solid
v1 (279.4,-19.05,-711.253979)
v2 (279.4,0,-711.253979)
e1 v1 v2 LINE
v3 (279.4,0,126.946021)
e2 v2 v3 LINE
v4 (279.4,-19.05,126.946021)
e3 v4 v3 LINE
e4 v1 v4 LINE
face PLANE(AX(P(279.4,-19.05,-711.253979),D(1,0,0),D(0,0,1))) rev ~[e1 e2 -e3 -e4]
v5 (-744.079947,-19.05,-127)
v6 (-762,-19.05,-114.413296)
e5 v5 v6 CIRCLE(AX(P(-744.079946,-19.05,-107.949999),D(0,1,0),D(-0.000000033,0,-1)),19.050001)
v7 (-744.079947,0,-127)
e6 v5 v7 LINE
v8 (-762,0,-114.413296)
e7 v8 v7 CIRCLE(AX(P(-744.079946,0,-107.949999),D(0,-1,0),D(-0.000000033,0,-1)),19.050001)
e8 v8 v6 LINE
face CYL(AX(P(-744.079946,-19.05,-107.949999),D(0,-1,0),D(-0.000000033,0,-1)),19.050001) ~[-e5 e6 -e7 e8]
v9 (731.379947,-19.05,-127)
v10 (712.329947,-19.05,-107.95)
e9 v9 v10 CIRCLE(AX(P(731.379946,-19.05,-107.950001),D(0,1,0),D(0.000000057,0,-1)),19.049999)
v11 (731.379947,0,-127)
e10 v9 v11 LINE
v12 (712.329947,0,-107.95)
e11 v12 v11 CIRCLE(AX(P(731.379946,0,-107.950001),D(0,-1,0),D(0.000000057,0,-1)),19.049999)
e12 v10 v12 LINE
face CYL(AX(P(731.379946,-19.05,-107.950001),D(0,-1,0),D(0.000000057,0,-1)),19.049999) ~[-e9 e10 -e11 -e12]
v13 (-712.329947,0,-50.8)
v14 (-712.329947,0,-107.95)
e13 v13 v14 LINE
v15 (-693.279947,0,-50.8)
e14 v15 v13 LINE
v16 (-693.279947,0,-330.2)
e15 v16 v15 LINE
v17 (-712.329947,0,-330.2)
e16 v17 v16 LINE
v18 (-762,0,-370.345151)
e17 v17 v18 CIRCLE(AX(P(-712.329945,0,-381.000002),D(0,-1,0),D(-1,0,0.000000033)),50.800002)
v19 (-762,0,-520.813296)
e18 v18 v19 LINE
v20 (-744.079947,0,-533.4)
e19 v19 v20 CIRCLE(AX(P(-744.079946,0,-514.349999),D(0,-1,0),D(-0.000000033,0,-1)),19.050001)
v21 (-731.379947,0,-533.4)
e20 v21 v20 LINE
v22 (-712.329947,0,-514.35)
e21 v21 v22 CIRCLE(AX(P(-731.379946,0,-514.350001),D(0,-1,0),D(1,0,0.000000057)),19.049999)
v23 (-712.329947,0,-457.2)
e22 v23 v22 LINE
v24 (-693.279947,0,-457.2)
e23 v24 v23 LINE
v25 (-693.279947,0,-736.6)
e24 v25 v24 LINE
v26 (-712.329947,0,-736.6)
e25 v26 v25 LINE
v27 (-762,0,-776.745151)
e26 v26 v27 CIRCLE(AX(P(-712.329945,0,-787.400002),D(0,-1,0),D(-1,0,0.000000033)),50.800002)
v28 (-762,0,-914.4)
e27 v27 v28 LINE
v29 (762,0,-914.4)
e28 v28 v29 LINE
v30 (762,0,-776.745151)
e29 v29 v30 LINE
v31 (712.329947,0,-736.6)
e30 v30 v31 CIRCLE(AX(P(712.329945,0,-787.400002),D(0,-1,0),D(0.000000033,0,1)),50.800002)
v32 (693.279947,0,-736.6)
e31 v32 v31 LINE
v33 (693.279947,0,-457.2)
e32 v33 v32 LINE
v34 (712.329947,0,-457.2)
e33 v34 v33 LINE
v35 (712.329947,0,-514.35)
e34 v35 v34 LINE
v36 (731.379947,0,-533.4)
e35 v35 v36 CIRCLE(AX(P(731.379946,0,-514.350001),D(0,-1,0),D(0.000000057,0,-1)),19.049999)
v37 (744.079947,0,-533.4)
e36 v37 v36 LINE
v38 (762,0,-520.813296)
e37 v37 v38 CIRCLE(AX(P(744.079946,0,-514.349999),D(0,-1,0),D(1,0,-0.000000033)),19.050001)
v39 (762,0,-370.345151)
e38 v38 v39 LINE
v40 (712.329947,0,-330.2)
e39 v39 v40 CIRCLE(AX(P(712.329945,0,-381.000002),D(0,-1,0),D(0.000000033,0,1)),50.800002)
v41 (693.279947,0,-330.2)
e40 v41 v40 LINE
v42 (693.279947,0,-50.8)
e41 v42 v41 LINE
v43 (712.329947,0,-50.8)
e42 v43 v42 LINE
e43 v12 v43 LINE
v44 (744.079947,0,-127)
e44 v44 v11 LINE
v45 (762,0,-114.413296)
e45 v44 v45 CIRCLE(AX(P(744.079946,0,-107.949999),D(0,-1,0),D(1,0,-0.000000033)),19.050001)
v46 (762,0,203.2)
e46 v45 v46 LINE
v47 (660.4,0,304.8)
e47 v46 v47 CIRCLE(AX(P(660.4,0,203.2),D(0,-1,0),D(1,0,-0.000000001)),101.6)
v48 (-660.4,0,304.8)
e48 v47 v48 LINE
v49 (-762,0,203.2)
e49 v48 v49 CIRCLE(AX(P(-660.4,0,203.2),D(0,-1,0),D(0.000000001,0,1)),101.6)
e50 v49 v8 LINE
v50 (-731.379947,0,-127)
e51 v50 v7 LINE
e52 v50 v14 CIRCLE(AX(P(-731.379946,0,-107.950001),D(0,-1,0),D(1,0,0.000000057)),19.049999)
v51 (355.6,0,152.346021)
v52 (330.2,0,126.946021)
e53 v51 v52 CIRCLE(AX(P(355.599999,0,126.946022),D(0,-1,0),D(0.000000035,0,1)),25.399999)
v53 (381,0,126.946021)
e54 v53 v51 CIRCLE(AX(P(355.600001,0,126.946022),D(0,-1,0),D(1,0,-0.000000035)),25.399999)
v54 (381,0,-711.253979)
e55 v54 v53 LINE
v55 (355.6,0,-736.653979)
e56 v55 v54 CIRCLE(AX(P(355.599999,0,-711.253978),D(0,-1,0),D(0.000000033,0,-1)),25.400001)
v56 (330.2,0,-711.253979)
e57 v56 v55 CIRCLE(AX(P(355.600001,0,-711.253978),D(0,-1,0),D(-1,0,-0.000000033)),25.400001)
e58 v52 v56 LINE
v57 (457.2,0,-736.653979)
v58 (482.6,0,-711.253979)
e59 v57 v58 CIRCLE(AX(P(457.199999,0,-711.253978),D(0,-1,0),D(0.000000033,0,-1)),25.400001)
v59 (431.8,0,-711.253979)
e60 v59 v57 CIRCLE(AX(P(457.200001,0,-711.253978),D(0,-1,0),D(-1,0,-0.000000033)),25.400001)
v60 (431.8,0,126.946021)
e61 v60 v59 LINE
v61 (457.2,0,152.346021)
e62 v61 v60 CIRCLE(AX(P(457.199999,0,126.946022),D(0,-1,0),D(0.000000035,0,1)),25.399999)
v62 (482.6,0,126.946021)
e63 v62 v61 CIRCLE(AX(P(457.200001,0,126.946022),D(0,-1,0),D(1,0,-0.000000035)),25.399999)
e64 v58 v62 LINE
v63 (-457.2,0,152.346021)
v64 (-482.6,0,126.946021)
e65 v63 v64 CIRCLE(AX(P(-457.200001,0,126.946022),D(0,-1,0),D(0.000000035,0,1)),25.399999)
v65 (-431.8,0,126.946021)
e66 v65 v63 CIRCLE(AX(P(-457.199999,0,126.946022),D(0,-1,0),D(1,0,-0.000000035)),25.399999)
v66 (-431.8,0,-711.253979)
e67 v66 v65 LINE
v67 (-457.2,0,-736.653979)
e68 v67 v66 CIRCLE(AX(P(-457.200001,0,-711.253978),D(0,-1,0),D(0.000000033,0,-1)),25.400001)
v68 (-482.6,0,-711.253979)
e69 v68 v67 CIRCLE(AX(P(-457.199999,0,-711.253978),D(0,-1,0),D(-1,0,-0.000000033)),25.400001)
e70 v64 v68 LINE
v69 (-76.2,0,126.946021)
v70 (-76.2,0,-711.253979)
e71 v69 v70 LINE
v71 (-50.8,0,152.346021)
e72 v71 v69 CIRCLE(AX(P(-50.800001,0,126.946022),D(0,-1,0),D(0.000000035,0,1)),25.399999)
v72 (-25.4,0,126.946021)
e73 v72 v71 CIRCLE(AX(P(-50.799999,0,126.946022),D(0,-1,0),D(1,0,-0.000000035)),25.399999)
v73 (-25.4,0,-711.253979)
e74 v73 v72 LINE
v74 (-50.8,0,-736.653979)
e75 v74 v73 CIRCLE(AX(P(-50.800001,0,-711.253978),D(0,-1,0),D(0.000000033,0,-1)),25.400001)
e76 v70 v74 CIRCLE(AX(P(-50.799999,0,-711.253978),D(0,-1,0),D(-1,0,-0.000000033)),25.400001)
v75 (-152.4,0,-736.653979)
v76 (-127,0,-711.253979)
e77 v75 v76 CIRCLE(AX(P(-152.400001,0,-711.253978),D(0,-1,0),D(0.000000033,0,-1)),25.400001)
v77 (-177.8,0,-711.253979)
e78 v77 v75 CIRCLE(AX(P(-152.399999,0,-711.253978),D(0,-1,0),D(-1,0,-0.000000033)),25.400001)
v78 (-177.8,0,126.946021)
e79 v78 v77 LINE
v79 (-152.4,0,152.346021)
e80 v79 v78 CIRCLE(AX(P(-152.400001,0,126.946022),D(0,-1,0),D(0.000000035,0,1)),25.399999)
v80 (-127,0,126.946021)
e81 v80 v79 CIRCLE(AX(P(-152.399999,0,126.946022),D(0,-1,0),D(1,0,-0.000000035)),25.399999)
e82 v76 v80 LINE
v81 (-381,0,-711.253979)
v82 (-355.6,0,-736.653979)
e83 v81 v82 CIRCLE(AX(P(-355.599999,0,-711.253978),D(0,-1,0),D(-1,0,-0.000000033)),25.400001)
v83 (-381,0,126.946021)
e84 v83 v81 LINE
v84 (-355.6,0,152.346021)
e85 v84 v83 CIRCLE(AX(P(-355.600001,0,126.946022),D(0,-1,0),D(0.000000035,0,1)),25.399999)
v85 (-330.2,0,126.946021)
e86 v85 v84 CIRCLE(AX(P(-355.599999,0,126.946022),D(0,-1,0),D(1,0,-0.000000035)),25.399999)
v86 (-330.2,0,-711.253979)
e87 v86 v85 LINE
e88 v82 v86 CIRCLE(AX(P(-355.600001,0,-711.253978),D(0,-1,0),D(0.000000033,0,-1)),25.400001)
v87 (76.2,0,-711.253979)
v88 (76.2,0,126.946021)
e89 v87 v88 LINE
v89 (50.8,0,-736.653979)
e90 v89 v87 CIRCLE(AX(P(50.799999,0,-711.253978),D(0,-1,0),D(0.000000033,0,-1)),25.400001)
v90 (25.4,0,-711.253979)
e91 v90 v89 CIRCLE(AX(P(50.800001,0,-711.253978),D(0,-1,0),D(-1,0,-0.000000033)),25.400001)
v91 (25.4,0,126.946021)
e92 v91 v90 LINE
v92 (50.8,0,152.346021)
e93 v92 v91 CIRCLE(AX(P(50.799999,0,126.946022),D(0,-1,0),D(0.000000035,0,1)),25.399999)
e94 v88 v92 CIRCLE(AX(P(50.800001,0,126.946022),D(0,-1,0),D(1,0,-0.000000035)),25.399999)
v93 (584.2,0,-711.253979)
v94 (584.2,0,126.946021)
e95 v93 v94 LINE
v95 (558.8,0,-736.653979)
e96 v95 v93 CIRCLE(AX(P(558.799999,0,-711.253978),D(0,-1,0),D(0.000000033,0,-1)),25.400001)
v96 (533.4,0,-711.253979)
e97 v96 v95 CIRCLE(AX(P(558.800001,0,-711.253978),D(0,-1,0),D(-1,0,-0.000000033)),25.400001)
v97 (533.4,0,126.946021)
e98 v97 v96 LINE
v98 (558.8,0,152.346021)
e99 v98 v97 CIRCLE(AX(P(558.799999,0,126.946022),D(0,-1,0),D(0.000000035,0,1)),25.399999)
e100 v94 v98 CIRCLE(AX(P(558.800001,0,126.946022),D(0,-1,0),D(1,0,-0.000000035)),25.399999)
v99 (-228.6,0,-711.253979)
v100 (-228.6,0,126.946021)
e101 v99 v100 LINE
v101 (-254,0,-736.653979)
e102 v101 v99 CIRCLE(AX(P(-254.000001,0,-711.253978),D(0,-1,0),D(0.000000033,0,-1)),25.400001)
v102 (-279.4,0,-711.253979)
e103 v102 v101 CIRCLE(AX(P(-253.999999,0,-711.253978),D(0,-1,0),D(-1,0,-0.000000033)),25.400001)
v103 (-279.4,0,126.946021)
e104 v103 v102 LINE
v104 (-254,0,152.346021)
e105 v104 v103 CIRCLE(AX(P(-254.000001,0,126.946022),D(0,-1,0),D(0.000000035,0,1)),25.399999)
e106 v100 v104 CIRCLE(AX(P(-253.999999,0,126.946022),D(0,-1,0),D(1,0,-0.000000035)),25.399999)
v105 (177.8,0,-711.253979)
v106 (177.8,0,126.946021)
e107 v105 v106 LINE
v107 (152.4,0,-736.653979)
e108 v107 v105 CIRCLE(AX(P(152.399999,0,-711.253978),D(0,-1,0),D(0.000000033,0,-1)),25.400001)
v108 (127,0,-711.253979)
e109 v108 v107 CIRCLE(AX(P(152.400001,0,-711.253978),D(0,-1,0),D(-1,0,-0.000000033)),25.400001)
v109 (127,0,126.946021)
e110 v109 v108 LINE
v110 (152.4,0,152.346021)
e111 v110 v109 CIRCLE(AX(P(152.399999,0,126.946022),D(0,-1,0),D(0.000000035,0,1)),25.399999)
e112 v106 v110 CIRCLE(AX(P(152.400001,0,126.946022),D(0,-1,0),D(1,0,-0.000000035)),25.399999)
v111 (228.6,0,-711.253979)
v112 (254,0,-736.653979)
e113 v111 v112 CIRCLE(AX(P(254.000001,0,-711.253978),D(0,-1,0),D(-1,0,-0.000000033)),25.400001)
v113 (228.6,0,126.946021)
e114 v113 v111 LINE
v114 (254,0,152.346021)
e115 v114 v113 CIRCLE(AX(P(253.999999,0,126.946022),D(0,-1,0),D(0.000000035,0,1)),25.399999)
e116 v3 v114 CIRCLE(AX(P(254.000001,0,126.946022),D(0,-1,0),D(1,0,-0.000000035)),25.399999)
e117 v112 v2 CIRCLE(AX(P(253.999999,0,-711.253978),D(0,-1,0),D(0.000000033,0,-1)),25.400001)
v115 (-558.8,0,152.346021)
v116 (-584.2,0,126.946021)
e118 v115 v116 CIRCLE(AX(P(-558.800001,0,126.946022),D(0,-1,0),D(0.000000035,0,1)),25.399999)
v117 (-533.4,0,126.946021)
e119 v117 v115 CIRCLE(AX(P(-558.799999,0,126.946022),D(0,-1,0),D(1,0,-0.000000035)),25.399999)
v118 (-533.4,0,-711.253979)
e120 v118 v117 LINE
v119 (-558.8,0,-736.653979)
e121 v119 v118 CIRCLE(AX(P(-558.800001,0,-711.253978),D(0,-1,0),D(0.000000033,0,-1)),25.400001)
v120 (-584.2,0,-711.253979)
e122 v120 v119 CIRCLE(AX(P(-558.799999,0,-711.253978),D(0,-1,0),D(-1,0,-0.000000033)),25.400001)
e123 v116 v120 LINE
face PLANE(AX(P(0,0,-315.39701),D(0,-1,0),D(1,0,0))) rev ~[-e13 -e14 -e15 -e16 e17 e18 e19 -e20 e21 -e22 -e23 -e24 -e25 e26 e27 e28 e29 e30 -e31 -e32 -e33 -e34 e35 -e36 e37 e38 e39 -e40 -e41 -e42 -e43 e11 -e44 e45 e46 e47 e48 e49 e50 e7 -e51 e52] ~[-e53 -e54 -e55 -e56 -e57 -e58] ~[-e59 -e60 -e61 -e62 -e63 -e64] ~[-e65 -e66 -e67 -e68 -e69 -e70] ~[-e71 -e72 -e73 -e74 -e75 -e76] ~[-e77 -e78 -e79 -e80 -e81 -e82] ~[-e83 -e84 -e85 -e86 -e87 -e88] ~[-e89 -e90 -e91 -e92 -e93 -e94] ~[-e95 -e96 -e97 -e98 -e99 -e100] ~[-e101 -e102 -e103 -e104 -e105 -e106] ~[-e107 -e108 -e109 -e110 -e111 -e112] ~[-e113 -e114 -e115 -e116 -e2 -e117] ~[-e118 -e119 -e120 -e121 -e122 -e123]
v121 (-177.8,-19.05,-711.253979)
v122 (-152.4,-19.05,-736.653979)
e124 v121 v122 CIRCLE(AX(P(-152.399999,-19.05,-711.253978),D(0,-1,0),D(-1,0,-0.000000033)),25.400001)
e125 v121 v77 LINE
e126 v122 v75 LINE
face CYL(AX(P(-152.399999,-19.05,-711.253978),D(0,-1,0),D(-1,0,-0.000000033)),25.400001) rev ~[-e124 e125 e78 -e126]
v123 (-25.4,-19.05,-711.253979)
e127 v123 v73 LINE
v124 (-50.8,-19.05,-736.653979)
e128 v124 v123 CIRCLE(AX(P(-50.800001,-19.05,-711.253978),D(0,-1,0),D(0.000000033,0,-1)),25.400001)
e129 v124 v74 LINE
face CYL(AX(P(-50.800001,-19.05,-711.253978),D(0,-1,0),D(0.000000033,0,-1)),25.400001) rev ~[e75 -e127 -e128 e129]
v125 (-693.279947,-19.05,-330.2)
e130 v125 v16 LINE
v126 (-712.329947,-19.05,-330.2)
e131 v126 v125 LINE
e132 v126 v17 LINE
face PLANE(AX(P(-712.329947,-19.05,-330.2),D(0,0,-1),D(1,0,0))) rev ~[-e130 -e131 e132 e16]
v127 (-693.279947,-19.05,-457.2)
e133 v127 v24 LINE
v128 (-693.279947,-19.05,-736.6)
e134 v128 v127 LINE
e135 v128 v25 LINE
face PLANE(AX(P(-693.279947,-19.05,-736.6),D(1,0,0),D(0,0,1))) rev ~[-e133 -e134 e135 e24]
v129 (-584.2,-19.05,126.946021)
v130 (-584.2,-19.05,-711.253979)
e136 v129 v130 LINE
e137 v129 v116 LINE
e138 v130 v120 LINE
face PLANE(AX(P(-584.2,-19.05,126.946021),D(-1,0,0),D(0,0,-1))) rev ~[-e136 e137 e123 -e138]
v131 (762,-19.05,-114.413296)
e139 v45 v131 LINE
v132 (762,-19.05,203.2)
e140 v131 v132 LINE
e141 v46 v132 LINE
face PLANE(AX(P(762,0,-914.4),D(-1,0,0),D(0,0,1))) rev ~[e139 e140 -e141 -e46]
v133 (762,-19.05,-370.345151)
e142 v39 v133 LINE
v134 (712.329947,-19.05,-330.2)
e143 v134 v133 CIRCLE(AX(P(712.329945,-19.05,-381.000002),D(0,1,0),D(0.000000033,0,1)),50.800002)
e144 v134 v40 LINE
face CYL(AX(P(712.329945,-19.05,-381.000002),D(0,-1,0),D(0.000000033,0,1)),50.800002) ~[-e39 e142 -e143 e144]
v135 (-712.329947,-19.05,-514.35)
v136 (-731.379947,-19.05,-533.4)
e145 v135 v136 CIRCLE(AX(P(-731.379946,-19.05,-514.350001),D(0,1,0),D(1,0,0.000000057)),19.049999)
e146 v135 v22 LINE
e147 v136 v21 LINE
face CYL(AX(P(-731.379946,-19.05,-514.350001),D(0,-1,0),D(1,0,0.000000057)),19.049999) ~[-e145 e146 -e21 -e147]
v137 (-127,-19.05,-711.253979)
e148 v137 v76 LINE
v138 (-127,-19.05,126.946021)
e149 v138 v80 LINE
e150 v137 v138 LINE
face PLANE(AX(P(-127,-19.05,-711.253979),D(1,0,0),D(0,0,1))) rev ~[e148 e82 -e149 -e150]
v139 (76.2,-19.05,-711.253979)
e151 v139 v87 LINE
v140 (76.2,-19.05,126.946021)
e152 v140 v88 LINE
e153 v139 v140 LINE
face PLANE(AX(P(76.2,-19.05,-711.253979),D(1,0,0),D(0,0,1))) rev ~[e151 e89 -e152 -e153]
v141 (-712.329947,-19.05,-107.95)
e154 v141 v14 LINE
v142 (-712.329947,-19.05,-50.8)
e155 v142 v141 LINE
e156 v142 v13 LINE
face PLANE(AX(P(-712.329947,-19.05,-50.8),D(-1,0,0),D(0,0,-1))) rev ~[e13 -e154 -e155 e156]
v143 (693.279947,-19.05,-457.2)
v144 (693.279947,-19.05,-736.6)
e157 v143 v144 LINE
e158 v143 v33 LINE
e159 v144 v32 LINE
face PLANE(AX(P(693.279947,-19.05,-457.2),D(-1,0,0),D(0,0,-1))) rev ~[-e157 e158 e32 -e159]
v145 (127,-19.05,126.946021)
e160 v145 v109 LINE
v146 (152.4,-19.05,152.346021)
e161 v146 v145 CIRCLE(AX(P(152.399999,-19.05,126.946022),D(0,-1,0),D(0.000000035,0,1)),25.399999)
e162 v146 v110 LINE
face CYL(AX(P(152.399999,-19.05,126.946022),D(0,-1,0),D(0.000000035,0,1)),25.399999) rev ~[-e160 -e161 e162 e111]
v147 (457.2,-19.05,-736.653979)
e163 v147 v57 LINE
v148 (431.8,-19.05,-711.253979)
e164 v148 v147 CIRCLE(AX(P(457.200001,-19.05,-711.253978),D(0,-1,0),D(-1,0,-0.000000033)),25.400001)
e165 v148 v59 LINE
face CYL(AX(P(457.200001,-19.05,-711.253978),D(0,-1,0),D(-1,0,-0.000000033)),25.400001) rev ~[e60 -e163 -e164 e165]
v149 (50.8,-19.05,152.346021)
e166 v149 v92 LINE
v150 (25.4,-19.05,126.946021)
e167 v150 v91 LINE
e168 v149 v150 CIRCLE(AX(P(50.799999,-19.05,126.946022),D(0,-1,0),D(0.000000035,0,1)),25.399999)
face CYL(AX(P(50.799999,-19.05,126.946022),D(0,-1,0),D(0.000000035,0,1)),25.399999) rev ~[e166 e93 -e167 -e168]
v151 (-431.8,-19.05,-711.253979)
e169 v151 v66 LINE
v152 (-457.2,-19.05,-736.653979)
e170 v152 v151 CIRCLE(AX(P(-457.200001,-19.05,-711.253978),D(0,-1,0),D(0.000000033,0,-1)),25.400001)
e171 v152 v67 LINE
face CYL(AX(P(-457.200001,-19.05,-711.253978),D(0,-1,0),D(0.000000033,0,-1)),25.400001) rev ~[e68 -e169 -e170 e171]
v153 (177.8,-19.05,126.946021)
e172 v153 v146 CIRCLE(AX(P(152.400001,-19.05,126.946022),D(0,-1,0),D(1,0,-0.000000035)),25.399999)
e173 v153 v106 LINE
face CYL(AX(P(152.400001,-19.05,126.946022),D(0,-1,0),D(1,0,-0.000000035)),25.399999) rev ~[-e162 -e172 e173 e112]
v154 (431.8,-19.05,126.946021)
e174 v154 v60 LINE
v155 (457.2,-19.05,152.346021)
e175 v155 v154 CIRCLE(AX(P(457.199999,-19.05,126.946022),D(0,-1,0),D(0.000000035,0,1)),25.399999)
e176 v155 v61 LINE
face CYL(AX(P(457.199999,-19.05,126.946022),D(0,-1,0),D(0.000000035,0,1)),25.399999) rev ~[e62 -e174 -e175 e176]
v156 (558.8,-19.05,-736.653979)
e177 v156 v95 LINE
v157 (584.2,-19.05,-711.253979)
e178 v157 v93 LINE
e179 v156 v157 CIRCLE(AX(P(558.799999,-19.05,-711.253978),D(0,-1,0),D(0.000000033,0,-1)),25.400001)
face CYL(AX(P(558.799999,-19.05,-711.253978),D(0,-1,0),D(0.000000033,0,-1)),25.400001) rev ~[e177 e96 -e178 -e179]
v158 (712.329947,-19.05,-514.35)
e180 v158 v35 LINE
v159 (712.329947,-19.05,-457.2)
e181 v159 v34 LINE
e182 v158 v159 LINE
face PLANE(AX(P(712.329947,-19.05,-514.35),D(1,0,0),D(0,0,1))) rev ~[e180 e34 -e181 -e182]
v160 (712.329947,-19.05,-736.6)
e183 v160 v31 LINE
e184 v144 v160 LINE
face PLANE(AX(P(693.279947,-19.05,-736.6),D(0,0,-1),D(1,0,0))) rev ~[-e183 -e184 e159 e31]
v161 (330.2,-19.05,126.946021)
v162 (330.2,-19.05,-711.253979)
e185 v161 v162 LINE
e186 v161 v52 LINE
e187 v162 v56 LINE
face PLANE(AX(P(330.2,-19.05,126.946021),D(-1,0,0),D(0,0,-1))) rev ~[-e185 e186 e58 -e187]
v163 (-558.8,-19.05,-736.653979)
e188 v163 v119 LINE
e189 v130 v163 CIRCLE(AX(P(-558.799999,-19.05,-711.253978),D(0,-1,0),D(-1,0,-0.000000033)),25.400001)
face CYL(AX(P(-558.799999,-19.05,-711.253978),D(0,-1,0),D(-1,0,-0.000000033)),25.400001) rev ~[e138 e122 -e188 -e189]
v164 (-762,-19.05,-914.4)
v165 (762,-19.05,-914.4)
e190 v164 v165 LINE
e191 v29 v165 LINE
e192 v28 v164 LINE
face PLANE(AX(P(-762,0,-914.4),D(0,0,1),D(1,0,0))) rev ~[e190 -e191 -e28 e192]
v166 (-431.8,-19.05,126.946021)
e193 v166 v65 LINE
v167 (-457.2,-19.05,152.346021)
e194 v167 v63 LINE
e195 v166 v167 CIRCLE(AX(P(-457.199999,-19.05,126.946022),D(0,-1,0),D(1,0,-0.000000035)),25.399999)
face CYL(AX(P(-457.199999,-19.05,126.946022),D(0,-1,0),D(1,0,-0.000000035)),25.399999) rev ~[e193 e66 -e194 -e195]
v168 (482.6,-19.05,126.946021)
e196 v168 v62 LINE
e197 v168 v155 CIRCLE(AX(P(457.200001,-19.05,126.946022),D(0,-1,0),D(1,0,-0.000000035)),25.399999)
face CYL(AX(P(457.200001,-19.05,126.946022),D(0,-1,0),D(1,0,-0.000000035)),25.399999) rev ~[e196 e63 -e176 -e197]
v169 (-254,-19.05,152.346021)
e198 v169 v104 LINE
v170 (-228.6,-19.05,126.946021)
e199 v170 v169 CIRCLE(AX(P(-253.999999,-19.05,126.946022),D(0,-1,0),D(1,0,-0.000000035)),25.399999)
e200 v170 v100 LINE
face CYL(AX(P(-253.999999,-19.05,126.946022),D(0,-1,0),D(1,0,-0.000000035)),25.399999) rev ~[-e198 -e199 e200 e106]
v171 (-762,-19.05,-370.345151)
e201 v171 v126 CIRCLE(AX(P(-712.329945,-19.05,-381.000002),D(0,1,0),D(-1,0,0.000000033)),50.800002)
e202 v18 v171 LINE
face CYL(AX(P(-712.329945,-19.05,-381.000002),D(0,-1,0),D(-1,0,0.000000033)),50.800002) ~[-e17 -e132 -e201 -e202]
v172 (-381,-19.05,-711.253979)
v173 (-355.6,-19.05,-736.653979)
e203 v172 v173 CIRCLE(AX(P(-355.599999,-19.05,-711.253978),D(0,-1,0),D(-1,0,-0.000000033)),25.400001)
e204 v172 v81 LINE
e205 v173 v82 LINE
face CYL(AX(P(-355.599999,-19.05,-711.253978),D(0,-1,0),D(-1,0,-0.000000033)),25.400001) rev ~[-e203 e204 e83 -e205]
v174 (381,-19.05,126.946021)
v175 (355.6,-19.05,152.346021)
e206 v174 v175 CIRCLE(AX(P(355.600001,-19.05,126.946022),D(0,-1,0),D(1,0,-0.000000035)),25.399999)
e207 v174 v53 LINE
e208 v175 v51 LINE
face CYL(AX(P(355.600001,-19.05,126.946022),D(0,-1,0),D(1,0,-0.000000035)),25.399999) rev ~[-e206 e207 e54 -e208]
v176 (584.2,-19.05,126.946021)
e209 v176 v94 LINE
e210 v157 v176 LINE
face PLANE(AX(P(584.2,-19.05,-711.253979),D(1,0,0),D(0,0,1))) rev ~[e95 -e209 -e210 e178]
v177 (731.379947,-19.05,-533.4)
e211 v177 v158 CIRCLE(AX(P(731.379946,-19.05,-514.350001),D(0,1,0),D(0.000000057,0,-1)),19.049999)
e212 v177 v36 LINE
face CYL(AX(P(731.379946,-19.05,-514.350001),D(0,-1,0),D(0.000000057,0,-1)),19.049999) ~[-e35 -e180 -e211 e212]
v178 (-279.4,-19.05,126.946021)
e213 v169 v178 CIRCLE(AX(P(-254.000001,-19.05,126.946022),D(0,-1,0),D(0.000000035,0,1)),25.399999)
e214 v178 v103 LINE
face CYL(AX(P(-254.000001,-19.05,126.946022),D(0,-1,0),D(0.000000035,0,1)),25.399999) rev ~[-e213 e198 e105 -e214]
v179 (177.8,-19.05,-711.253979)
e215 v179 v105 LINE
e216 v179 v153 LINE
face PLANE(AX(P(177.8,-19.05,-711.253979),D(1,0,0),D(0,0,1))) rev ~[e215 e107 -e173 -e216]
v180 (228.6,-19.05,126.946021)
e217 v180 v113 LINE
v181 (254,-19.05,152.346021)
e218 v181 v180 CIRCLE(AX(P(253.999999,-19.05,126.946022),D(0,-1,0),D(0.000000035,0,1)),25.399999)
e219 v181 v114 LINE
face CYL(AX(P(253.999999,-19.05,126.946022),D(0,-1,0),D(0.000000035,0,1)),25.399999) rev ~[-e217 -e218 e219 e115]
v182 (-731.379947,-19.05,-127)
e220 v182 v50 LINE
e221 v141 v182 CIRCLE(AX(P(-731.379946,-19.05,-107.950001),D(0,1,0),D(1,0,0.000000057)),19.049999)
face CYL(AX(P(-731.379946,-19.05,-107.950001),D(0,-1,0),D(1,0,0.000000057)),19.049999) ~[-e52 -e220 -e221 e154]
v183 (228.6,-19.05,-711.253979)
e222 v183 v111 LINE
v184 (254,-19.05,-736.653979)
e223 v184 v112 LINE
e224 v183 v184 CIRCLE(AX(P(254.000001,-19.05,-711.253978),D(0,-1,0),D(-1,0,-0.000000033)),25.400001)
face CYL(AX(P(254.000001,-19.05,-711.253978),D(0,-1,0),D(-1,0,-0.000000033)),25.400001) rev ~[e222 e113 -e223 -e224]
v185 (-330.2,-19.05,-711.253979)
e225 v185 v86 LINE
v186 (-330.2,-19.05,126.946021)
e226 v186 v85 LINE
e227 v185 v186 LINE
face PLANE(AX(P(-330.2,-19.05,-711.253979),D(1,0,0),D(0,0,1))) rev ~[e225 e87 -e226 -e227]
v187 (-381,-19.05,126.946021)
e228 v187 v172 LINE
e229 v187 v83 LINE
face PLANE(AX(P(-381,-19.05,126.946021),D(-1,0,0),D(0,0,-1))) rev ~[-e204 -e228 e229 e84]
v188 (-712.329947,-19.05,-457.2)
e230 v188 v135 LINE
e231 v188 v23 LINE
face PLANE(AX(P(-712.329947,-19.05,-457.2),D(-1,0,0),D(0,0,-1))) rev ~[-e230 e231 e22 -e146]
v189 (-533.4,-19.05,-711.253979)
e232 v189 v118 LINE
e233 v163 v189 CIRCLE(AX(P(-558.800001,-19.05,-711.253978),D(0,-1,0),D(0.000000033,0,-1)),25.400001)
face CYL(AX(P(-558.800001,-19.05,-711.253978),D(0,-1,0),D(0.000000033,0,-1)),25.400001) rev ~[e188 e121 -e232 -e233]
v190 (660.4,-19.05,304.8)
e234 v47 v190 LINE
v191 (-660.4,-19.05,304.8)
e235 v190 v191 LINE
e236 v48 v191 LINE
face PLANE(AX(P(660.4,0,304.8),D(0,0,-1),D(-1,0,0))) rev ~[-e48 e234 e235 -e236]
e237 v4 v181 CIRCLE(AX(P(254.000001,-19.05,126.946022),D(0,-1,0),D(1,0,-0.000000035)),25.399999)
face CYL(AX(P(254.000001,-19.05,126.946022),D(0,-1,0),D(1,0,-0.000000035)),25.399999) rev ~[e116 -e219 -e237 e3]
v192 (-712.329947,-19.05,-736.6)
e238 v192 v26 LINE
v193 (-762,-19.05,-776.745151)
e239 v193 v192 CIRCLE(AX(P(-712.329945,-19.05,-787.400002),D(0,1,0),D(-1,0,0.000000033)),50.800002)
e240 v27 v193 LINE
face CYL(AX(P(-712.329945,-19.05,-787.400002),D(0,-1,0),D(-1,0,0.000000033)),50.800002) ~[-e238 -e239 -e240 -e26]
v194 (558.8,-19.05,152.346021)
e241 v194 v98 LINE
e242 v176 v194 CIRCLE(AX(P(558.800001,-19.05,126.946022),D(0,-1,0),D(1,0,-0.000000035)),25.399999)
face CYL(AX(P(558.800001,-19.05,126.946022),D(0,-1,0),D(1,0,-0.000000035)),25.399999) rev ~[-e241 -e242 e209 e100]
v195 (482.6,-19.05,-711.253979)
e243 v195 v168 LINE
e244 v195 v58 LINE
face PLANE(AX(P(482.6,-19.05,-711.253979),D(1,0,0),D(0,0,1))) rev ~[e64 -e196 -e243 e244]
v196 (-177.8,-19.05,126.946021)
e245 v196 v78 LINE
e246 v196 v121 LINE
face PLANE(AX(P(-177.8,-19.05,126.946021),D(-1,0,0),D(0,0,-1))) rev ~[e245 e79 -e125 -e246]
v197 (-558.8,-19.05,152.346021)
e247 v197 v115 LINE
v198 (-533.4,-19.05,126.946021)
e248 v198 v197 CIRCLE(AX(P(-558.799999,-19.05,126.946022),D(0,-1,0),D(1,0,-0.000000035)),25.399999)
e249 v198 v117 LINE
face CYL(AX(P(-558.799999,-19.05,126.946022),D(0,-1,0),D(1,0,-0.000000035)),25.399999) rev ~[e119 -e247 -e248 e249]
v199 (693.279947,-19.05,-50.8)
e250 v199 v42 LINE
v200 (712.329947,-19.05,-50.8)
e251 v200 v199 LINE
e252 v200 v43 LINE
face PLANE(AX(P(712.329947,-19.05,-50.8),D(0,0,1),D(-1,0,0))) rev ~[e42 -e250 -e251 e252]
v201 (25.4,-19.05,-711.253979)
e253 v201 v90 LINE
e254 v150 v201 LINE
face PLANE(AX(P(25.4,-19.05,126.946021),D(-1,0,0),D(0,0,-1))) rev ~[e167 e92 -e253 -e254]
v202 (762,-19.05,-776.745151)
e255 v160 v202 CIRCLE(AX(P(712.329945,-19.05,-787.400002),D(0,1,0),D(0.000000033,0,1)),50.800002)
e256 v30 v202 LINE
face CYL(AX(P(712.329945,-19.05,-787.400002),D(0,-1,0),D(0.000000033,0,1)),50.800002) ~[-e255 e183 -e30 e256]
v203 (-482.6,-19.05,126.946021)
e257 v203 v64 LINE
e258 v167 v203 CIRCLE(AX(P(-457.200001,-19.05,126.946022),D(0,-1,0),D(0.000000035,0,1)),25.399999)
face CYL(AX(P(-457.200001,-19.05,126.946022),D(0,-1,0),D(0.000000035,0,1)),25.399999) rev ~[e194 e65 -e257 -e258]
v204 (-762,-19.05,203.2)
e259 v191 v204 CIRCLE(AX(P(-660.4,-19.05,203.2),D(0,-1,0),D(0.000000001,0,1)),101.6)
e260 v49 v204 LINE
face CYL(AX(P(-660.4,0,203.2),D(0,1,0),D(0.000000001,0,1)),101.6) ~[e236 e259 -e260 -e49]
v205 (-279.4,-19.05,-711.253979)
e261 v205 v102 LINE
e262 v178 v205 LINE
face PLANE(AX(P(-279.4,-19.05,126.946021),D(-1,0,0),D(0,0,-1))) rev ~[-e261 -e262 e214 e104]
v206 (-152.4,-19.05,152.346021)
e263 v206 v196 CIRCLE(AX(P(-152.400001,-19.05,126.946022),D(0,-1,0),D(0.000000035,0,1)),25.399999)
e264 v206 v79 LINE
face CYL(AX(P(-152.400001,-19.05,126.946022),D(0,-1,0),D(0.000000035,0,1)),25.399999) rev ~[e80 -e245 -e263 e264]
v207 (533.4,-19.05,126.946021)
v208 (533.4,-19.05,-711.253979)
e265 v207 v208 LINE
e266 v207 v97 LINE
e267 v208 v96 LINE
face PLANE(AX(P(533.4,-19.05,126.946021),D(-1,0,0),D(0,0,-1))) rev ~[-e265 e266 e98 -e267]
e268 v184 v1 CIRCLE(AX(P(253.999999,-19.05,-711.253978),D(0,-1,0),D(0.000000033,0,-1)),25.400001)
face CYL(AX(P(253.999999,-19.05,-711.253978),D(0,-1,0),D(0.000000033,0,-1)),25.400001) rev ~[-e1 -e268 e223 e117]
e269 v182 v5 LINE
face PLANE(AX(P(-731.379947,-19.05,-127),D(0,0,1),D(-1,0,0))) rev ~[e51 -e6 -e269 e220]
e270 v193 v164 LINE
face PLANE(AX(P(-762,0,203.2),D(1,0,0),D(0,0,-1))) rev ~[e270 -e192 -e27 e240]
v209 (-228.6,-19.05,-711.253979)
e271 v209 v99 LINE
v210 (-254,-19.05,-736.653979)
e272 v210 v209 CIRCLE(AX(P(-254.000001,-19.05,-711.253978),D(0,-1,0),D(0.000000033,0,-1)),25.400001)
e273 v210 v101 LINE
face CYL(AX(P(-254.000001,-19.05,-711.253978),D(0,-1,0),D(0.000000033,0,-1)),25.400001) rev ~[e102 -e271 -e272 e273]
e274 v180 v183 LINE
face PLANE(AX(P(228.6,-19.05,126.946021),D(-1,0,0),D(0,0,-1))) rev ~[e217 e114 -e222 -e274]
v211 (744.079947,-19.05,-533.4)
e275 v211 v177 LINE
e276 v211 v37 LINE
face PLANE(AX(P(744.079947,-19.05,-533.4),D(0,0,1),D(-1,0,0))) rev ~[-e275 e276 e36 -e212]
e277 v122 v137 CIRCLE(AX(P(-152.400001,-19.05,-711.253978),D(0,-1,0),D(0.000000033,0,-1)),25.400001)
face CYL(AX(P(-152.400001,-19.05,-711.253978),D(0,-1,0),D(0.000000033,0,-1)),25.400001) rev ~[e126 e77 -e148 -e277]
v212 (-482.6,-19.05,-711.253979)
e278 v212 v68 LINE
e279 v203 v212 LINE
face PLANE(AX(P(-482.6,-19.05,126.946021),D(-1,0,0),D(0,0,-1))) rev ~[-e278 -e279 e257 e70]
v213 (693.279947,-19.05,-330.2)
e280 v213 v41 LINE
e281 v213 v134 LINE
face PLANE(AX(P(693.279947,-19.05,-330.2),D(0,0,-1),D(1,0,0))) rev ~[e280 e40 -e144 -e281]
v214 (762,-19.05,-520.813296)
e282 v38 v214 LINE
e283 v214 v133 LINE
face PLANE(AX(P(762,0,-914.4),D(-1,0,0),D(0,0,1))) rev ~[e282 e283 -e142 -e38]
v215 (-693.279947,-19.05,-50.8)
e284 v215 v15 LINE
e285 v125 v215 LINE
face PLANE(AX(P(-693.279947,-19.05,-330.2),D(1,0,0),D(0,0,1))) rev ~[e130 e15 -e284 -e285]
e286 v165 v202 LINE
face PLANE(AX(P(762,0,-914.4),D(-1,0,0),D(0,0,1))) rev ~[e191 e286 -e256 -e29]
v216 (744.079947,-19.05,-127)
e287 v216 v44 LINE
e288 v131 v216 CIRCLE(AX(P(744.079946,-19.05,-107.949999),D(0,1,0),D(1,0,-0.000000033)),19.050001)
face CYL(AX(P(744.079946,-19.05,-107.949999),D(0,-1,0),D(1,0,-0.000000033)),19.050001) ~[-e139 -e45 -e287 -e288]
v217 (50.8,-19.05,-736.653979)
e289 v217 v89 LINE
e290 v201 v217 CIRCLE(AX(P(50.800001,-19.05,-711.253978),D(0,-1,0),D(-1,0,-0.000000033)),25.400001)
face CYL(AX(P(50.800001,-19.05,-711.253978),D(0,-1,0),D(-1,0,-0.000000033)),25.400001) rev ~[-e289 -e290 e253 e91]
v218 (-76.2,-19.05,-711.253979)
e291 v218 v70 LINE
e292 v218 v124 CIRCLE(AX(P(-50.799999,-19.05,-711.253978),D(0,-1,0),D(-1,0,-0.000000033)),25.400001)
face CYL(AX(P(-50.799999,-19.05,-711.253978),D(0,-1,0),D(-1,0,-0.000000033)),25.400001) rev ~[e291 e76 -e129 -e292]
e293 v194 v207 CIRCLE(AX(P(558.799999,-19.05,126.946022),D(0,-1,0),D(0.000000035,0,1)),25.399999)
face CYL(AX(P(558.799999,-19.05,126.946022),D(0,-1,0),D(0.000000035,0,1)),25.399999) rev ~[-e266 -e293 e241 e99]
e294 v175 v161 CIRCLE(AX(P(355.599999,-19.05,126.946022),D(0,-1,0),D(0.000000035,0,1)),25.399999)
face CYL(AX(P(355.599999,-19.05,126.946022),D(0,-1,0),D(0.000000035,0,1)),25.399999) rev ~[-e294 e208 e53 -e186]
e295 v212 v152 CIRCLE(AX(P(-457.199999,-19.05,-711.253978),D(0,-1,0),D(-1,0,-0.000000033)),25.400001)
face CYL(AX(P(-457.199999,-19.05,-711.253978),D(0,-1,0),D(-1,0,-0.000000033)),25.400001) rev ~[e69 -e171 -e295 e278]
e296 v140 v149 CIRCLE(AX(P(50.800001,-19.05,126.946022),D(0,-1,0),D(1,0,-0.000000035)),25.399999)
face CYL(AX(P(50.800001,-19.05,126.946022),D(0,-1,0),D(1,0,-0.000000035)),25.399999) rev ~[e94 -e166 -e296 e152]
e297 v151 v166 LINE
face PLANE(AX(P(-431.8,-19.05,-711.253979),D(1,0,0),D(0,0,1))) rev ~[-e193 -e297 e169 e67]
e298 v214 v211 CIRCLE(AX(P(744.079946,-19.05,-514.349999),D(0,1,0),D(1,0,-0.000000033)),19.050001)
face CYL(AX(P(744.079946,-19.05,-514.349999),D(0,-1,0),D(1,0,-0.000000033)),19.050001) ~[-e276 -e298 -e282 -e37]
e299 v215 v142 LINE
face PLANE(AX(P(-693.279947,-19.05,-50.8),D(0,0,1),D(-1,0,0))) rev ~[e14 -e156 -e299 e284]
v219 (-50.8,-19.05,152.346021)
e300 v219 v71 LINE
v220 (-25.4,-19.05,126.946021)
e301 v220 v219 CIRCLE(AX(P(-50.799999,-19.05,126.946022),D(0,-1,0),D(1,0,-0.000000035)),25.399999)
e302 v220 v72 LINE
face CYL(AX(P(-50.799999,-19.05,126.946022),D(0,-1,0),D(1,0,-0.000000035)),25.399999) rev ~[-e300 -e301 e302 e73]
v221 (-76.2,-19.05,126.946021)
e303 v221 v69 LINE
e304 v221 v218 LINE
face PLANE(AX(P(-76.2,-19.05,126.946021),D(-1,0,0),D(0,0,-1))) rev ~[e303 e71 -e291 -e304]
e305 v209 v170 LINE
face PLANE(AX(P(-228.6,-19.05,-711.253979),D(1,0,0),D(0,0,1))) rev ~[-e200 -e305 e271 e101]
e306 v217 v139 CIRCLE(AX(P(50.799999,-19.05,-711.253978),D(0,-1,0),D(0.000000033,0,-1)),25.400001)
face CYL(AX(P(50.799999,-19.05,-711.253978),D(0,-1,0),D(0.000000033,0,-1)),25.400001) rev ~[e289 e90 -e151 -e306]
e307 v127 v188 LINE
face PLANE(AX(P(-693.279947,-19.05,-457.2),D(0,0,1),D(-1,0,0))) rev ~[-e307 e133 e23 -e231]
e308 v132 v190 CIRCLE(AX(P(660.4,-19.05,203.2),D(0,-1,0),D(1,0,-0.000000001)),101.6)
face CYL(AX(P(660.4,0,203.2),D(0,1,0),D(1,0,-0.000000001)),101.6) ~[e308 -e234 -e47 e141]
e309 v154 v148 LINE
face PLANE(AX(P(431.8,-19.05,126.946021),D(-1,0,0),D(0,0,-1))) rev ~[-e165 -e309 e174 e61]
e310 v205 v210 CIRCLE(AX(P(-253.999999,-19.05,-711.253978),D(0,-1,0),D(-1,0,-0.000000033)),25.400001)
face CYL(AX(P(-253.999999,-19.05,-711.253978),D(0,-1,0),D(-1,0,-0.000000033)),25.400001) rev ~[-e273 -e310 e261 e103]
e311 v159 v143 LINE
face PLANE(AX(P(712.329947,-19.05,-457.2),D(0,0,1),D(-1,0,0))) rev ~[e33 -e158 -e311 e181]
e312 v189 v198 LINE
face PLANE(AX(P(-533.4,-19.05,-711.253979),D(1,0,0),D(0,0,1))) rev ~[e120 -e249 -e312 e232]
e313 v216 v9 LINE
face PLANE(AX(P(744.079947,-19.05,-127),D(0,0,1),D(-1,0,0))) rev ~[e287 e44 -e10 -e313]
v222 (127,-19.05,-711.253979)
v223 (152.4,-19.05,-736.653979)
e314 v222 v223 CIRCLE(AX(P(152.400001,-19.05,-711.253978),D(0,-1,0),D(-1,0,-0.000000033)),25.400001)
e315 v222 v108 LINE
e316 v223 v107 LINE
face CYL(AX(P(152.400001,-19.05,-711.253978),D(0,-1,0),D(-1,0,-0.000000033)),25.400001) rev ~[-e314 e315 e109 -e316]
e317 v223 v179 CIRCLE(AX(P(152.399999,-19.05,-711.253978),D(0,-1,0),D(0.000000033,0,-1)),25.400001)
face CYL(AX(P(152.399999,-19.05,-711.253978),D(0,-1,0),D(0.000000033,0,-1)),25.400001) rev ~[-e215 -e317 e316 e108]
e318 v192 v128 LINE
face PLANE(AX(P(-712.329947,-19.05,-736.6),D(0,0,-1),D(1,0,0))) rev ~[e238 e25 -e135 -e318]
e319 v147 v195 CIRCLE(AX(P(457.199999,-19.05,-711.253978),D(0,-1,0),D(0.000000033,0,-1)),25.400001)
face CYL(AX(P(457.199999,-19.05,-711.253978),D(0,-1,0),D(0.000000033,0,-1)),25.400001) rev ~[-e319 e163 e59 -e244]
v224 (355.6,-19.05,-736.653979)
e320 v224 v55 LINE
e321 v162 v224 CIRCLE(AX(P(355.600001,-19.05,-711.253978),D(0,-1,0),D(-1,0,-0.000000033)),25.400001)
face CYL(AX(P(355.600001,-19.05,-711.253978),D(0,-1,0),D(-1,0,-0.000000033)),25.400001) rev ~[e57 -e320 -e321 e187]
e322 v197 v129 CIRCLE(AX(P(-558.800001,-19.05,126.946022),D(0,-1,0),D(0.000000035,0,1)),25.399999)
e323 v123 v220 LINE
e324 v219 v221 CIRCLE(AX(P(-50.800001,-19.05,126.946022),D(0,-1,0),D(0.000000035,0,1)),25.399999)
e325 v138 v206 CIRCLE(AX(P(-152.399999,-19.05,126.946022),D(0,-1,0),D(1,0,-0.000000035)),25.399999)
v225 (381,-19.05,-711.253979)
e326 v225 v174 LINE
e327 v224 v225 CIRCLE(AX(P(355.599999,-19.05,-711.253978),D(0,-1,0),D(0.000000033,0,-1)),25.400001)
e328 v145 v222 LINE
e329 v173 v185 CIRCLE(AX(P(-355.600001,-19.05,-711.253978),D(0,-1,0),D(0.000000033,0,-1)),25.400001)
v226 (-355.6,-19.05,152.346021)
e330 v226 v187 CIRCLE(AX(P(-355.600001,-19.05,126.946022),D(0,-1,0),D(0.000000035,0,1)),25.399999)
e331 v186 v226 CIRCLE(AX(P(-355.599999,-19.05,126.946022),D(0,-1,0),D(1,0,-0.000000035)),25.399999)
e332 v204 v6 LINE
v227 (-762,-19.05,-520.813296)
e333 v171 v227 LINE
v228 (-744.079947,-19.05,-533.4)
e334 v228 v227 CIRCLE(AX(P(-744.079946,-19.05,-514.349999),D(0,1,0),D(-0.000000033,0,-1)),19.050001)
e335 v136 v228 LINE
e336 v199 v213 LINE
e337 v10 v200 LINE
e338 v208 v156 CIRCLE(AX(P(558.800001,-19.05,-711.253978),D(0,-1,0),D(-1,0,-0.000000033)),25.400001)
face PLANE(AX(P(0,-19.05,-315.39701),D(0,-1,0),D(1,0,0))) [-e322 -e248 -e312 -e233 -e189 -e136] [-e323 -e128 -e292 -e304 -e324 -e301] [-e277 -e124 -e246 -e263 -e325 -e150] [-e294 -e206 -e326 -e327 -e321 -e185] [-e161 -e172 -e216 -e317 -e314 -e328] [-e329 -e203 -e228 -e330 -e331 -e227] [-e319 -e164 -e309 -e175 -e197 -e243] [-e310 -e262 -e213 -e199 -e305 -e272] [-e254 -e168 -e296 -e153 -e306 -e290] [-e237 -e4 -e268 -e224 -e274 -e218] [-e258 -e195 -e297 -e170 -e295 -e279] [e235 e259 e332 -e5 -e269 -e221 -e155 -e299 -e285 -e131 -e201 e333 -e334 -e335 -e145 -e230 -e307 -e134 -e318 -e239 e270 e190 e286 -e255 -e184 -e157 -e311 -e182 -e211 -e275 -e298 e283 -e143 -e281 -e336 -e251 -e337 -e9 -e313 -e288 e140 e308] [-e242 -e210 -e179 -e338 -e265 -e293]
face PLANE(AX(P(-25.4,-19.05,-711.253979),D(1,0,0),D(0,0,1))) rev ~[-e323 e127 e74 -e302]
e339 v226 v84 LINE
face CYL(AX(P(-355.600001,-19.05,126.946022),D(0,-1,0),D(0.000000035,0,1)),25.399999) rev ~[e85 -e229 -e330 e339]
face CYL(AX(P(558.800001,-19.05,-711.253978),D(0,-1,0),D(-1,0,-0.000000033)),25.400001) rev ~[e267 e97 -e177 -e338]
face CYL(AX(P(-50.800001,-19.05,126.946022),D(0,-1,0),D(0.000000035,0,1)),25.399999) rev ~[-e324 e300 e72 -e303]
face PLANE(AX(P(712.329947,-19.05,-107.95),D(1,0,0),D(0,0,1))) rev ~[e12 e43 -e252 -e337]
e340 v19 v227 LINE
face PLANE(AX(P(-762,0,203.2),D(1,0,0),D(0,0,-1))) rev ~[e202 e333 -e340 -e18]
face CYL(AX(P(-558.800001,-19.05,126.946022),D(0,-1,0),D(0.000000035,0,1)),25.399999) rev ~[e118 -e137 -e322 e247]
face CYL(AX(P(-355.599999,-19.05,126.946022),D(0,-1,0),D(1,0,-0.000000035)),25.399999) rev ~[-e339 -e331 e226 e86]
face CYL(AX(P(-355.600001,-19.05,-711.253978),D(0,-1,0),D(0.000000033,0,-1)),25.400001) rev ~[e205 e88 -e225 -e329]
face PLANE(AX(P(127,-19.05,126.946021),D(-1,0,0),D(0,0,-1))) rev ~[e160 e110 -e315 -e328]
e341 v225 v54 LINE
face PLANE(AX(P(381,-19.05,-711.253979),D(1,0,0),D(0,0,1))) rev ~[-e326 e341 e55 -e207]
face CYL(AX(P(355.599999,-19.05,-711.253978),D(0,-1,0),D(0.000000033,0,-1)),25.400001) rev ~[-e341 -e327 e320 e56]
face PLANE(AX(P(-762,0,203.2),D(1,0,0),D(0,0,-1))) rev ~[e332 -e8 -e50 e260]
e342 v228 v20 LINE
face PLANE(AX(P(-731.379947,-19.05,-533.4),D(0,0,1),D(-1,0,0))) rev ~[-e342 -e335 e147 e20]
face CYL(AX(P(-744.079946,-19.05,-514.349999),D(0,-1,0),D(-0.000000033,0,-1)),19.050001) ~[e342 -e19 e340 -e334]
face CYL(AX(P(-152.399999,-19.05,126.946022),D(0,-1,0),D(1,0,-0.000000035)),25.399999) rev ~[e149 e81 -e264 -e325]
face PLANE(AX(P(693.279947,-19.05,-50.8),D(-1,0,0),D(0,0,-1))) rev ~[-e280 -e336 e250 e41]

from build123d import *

# Parameters (mm, degrees)
F1_DEPTH = 19.05
F3_DEPTH = 19.051
F5_DEPTH = 19.051


with BuildPart() as f1:
    # F0 (on Front) → F1 (new body)
    with BuildSketch(Plane.XZ):
        with BuildLine():
            Line((660.4, 304.8), (-660.4, 304.8))
            ThreePointArc((-660.4, 304.8), (-732.242049, 275.042049), (-762, 203.2))
            Line((-762, 203.2), (-762, -914.4))
            Line((-762, -914.4), (762, -914.4))
            Line((762, -914.4), (762, 203.2))
            ThreePointArc((762, 203.2), (732.242049, 275.042049), (660.4, 304.8))
        make_face()
    extrude(amount=F1_DEPTH)

    # F2 (on face) → F3 (cut, through all)
    with BuildSketch(Plane.XZ.offset(19.05)):
        with BuildLine():
            Line((-731.379947, -127), (-744.079947, -127))
            ThreePointArc((-744.079947, -127), (-757.550331, -121.420384), (-763.129947, -107.95))
            Line((-763.129947, -107.95), (-763.129947, -50.8))
            Line((-763.129947, -50.8), (-839.329947, -50.8))
            Line((-839.329947, -50.8), (-839.329947, -431.8))
            Line((-839.329947, -431.8), (-763.129947, -431.8))
            Line((-763.129947, -431.8), (-763.129947, -381))
            ThreePointArc((-763.129947, -381), (-748.250971, -345.078976), (-712.329947, -330.2))
            Line((-712.329947, -330.2), (-693.279947, -330.2))
            Line((-693.279947, -330.2), (-693.279947, -50.8))
            Line((-693.279947, -50.8), (-712.329947, -50.8))
            Line((-712.329947, -50.8), (-712.329947, -107.95))
            ThreePointArc((-712.329947, -107.95), (-717.909562, -121.420384), (-731.379947, -127))
        make_face()
        with BuildLine():
            Line((-712.329947, -457.2), (-712.329947, -514.35))
            ThreePointArc((-712.329947, -514.35), (-717.909562, -527.820384), (-731.379947, -533.4))
            Line((-731.379947, -533.4), (-744.079947, -533.4))
            ThreePointArc((-744.079947, -533.4), (-757.550331, -527.820384), (-763.129947, -514.35))
            Line((-763.129947, -514.35), (-763.129947, -457.2))
            Line((-763.129947, -457.2), (-839.329947, -457.2))
            Line((-839.329947, -457.2), (-839.329947, -838.2))
            Line((-839.329947, -838.2), (-763.129947, -838.2))
            Line((-763.129947, -838.2), (-763.129947, -787.4))
            ThreePointArc((-763.129947, -787.4), (-748.250971, -751.478976), (-712.329947, -736.6))
            Line((-712.329947, -736.6), (-693.279947, -736.6))
            Line((-693.279947, -736.6), (-693.279947, -457.2))
            Line((-693.279947, -457.2), (-712.329947, -457.2))
        make_face()
        with BuildLine():
            ThreePointArc((763.129947, -107.95), (757.550331, -121.420384), (744.079947, -127))
            Line((744.079947, -127), (731.379947, -127))
            ThreePointArc((731.379947, -127), (717.909562, -121.420384), (712.329947, -107.95))
            Line((712.329947, -107.95), (712.329947, -50.8))
            Line((712.329947, -50.8), (693.279947, -50.8))
            Line((693.279947, -50.8), (693.279947, -330.2))
            Line((693.279947, -330.2), (712.329947, -330.2))
            ThreePointArc((712.329947, -330.2), (748.250971, -345.078976), (763.129947, -381))
            Line((763.129947, -381), (763.129947, -431.8))
            Line((763.129947, -431.8), (839.329947, -431.8))
            Line((839.329947, -431.8), (839.329947, -50.8))
            Line((839.329947, -50.8), (763.129947, -50.8))
            Line((763.129947, -50.8), (763.129947, -107.95))
        make_face()
        with BuildLine():
            Line((693.279947, -457.2), (693.279947, -736.6))
            Line((693.279947, -736.6), (712.329947, -736.6))
            ThreePointArc((712.329947, -736.6), (748.250971, -751.478976), (763.129947, -787.4))
            Line((763.129947, -787.4), (763.129947, -838.2))
            Line((763.129947, -838.2), (839.329947, -838.2))
            Line((839.329947, -838.2), (839.329947, -457.2))
            Line((839.329947, -457.2), (763.129947, -457.2))
            Line((763.129947, -457.2), (763.129947, -514.35))
            ThreePointArc((763.129947, -514.35), (757.550331, -527.820384), (744.079947, -533.4))
            Line((744.079947, -533.4), (731.379947, -533.4))
            ThreePointArc((731.379947, -533.4), (717.909562, -527.820384), (712.329947, -514.35))
            Line((712.329947, -514.35), (712.329947, -457.2))
            Line((712.329947, -457.2), (693.279947, -457.2))
        make_face()
    extrude(amount=-F3_DEPTH, mode=Mode.SUBTRACT)

    # F4 (on face) → F5 (cut, through all)
    with BuildSketch(Plane.XZ.offset(19.05)):
        with BuildLine():
            ThreePointArc((-50.8, 152.346021), (-68.760512, 144.906534), (-76.2, 126.946021))
            Line((-76.2, 126.946021), (-76.2, -711.253979))
            ThreePointArc((-76.2, -711.253979), (-68.760512, -729.214491), (-50.8, -736.653979))
            ThreePointArc((-50.8, -736.653979), (-32.839488, -729.214491), (-25.4, -711.253979))
            Line((-25.4, -711.253979), (-25.4, 126.946021))
            ThreePointArc((-25.4, 126.946021), (-32.839488, 144.906534), (-50.8, 152.346021))
        make_face()
        with BuildLine():
            ThreePointArc((-152.4, 152.346021), (-170.360512, 144.906534), (-177.8, 126.946021))
            Line((-177.8, 126.946021), (-177.8, -711.253979))
            ThreePointArc((-177.8, -711.253979), (-170.360512, -729.214491), (-152.4, -736.653979))
            ThreePointArc((-152.4, -736.653979), (-134.439488, -729.214491), (-127, -711.253979))
            Line((-127, -711.253979), (-127, 126.946021))
            ThreePointArc((-127, 126.946021), (-134.439488, 144.906534), (-152.4, 152.346021))
        make_face()
        with BuildLine():
            ThreePointArc((-254, 152.346021), (-271.960512, 144.906534), (-279.4, 126.946021))
            Line((-279.4, 126.946021), (-279.4, -711.253979))
            ThreePointArc((-279.4, -711.253979), (-271.960512, -729.214491), (-254, -736.653979))
            ThreePointArc((-254, -736.653979), (-236.039488, -729.214491), (-228.6, -711.253979))
            Line((-228.6, -711.253979), (-228.6, 126.946021))
            ThreePointArc((-228.6, 126.946021), (-236.039488, 144.906534), (-254, 152.346021))
        make_face()
        with BuildLine():
            ThreePointArc((-355.6, 152.346021), (-373.560512, 144.906534), (-381, 126.946021))
            Line((-381, 126.946021), (-381, -711.253979))
            ThreePointArc((-381, -711.253979), (-373.560512, -729.214491), (-355.6, -736.653979))
            ThreePointArc((-355.6, -736.653979), (-337.639488, -729.214491), (-330.2, -711.253979))
            Line((-330.2, -711.253979), (-330.2, 126.946021))
            ThreePointArc((-330.2, 126.946021), (-337.639488, 144.906534), (-355.6, 152.346021))
        make_face()
        with BuildLine():
            ThreePointArc((-457.2, 152.346021), (-475.160512, 144.906534), (-482.6, 126.946021))
            Line((-482.6, 126.946021), (-482.6, -711.253979))
            ThreePointArc((-482.6, -711.253979), (-475.160512, -729.214491), (-457.2, -736.653979))
            ThreePointArc((-457.2, -736.653979), (-439.239488, -729.214491), (-431.8, -711.253979))
            Line((-431.8, -711.253979), (-431.8, 126.946021))
            ThreePointArc((-431.8, 126.946021), (-439.239488, 144.906534), (-457.2, 152.346021))
        make_face()
        with BuildLine():
            ThreePointArc((-558.8, 152.346021), (-576.760512, 144.906534), (-584.2, 126.946021))
            Line((-584.2, 126.946021), (-584.2, -711.253979))
            ThreePointArc((-584.2, -711.253979), (-576.760512, -729.214491), (-558.8, -736.653979))
            ThreePointArc((-558.8, -736.653979), (-540.839488, -729.214491), (-533.4, -711.253979))
            Line((-533.4, -711.253979), (-533.4, 126.946021))
            ThreePointArc((-533.4, 126.946021), (-540.839488, 144.906534), (-558.8, 152.346021))
        make_face()
        with BuildLine():
            ThreePointArc((127, -711.253979), (134.439488, -729.214491), (152.4, -736.653979))
            ThreePointArc((152.4, -736.653979), (170.360512, -729.214491), (177.8, -711.253979))
            Line((177.8, -711.253979), (177.8, 126.946021))
            ThreePointArc((177.8, 126.946021), (170.360512, 144.906534), (152.4, 152.346021))
            ThreePointArc((152.4, 152.346021), (134.439488, 144.906534), (127, 126.946021))
            Line((127, 126.946021), (127, -711.253979))
        make_face()
        with BuildLine():
            ThreePointArc((482.6, 126.946021), (475.160512, 144.906534), (457.2, 152.346021))
            ThreePointArc((457.2, 152.346021), (439.239488, 144.906534), (431.8, 126.946021))
            Line((431.8, 126.946021), (431.8, -711.253979))
            ThreePointArc((431.8, -711.253979), (439.239488, -729.214491), (457.2, -736.653979))
            ThreePointArc((457.2, -736.653979), (475.160512, -729.214491), (482.6, -711.253979))
            Line((482.6, -711.253979), (482.6, 126.946021))
        make_face()
        with BuildLine():
            ThreePointArc((254, -736.653979), (271.960512, -729.214491), (279.4, -711.253979))
            Line((279.4, -711.253979), (279.4, 126.946021))
            ThreePointArc((279.4, 126.946021), (271.960512, 144.906534), (254, 152.346021))
            ThreePointArc((254, 152.346021), (236.039488, 144.906534), (228.6, 126.946021))
            Line((228.6, 126.946021), (228.6, -711.253979))
            ThreePointArc((228.6, -711.253979), (236.039488, -729.214491), (254, -736.653979))
        make_face()
        with BuildLine():
            ThreePointArc((558.8, 152.346021), (540.839488, 144.906534), (533.4, 126.946021))
            Line((533.4, 126.946021), (533.4, -711.253979))
            ThreePointArc((533.4, -711.253979), (540.839488, -729.214491), (558.8, -736.653979))
            ThreePointArc((558.8, -736.653979), (576.760512, -729.214491), (584.2, -711.253979))
            Line((584.2, -711.253979), (584.2, 126.946021))
            ThreePointArc((584.2, 126.946021), (576.760512, 144.906534), (558.8, 152.346021))
        make_face()
        with BuildLine():
            ThreePointArc((355.6, 152.346021), (337.639488, 144.906534), (330.2, 126.946021))
            Line((330.2, 126.946021), (330.2, -711.253979))
            ThreePointArc((330.2, -711.253979), (337.639488, -729.214491), (355.6, -736.653979))
            ThreePointArc((355.6, -736.653979), (373.560512, -729.214491), (381, -711.253979))
            Line((381, -711.253979), (381, 126.946021))
            ThreePointArc((381, 126.946021), (373.560512, 144.906534), (355.6, 152.346021))
        make_face()
        with BuildLine():
            ThreePointArc((25.4, -711.253979), (32.839488, -729.214491), (50.8, -736.653979))
            ThreePointArc((50.8, -736.653979), (68.760512, -729.214491), (76.2, -711.253979))
            Line((76.2, -711.253979), (76.2, 126.946021))
            ThreePointArc((76.2, 126.946021), (68.760512, 144.906534), (50.8, 152.346021))
            ThreePointArc((50.8, 152.346021), (32.839488, 144.906534), (25.4, 126.946021))
            Line((25.4, 126.946021), (25.4, -711.253979))
        make_face()
    extrude(amount=-F5_DEPTH, mode=Mode.SUBTRACT)


solid = f1.part
